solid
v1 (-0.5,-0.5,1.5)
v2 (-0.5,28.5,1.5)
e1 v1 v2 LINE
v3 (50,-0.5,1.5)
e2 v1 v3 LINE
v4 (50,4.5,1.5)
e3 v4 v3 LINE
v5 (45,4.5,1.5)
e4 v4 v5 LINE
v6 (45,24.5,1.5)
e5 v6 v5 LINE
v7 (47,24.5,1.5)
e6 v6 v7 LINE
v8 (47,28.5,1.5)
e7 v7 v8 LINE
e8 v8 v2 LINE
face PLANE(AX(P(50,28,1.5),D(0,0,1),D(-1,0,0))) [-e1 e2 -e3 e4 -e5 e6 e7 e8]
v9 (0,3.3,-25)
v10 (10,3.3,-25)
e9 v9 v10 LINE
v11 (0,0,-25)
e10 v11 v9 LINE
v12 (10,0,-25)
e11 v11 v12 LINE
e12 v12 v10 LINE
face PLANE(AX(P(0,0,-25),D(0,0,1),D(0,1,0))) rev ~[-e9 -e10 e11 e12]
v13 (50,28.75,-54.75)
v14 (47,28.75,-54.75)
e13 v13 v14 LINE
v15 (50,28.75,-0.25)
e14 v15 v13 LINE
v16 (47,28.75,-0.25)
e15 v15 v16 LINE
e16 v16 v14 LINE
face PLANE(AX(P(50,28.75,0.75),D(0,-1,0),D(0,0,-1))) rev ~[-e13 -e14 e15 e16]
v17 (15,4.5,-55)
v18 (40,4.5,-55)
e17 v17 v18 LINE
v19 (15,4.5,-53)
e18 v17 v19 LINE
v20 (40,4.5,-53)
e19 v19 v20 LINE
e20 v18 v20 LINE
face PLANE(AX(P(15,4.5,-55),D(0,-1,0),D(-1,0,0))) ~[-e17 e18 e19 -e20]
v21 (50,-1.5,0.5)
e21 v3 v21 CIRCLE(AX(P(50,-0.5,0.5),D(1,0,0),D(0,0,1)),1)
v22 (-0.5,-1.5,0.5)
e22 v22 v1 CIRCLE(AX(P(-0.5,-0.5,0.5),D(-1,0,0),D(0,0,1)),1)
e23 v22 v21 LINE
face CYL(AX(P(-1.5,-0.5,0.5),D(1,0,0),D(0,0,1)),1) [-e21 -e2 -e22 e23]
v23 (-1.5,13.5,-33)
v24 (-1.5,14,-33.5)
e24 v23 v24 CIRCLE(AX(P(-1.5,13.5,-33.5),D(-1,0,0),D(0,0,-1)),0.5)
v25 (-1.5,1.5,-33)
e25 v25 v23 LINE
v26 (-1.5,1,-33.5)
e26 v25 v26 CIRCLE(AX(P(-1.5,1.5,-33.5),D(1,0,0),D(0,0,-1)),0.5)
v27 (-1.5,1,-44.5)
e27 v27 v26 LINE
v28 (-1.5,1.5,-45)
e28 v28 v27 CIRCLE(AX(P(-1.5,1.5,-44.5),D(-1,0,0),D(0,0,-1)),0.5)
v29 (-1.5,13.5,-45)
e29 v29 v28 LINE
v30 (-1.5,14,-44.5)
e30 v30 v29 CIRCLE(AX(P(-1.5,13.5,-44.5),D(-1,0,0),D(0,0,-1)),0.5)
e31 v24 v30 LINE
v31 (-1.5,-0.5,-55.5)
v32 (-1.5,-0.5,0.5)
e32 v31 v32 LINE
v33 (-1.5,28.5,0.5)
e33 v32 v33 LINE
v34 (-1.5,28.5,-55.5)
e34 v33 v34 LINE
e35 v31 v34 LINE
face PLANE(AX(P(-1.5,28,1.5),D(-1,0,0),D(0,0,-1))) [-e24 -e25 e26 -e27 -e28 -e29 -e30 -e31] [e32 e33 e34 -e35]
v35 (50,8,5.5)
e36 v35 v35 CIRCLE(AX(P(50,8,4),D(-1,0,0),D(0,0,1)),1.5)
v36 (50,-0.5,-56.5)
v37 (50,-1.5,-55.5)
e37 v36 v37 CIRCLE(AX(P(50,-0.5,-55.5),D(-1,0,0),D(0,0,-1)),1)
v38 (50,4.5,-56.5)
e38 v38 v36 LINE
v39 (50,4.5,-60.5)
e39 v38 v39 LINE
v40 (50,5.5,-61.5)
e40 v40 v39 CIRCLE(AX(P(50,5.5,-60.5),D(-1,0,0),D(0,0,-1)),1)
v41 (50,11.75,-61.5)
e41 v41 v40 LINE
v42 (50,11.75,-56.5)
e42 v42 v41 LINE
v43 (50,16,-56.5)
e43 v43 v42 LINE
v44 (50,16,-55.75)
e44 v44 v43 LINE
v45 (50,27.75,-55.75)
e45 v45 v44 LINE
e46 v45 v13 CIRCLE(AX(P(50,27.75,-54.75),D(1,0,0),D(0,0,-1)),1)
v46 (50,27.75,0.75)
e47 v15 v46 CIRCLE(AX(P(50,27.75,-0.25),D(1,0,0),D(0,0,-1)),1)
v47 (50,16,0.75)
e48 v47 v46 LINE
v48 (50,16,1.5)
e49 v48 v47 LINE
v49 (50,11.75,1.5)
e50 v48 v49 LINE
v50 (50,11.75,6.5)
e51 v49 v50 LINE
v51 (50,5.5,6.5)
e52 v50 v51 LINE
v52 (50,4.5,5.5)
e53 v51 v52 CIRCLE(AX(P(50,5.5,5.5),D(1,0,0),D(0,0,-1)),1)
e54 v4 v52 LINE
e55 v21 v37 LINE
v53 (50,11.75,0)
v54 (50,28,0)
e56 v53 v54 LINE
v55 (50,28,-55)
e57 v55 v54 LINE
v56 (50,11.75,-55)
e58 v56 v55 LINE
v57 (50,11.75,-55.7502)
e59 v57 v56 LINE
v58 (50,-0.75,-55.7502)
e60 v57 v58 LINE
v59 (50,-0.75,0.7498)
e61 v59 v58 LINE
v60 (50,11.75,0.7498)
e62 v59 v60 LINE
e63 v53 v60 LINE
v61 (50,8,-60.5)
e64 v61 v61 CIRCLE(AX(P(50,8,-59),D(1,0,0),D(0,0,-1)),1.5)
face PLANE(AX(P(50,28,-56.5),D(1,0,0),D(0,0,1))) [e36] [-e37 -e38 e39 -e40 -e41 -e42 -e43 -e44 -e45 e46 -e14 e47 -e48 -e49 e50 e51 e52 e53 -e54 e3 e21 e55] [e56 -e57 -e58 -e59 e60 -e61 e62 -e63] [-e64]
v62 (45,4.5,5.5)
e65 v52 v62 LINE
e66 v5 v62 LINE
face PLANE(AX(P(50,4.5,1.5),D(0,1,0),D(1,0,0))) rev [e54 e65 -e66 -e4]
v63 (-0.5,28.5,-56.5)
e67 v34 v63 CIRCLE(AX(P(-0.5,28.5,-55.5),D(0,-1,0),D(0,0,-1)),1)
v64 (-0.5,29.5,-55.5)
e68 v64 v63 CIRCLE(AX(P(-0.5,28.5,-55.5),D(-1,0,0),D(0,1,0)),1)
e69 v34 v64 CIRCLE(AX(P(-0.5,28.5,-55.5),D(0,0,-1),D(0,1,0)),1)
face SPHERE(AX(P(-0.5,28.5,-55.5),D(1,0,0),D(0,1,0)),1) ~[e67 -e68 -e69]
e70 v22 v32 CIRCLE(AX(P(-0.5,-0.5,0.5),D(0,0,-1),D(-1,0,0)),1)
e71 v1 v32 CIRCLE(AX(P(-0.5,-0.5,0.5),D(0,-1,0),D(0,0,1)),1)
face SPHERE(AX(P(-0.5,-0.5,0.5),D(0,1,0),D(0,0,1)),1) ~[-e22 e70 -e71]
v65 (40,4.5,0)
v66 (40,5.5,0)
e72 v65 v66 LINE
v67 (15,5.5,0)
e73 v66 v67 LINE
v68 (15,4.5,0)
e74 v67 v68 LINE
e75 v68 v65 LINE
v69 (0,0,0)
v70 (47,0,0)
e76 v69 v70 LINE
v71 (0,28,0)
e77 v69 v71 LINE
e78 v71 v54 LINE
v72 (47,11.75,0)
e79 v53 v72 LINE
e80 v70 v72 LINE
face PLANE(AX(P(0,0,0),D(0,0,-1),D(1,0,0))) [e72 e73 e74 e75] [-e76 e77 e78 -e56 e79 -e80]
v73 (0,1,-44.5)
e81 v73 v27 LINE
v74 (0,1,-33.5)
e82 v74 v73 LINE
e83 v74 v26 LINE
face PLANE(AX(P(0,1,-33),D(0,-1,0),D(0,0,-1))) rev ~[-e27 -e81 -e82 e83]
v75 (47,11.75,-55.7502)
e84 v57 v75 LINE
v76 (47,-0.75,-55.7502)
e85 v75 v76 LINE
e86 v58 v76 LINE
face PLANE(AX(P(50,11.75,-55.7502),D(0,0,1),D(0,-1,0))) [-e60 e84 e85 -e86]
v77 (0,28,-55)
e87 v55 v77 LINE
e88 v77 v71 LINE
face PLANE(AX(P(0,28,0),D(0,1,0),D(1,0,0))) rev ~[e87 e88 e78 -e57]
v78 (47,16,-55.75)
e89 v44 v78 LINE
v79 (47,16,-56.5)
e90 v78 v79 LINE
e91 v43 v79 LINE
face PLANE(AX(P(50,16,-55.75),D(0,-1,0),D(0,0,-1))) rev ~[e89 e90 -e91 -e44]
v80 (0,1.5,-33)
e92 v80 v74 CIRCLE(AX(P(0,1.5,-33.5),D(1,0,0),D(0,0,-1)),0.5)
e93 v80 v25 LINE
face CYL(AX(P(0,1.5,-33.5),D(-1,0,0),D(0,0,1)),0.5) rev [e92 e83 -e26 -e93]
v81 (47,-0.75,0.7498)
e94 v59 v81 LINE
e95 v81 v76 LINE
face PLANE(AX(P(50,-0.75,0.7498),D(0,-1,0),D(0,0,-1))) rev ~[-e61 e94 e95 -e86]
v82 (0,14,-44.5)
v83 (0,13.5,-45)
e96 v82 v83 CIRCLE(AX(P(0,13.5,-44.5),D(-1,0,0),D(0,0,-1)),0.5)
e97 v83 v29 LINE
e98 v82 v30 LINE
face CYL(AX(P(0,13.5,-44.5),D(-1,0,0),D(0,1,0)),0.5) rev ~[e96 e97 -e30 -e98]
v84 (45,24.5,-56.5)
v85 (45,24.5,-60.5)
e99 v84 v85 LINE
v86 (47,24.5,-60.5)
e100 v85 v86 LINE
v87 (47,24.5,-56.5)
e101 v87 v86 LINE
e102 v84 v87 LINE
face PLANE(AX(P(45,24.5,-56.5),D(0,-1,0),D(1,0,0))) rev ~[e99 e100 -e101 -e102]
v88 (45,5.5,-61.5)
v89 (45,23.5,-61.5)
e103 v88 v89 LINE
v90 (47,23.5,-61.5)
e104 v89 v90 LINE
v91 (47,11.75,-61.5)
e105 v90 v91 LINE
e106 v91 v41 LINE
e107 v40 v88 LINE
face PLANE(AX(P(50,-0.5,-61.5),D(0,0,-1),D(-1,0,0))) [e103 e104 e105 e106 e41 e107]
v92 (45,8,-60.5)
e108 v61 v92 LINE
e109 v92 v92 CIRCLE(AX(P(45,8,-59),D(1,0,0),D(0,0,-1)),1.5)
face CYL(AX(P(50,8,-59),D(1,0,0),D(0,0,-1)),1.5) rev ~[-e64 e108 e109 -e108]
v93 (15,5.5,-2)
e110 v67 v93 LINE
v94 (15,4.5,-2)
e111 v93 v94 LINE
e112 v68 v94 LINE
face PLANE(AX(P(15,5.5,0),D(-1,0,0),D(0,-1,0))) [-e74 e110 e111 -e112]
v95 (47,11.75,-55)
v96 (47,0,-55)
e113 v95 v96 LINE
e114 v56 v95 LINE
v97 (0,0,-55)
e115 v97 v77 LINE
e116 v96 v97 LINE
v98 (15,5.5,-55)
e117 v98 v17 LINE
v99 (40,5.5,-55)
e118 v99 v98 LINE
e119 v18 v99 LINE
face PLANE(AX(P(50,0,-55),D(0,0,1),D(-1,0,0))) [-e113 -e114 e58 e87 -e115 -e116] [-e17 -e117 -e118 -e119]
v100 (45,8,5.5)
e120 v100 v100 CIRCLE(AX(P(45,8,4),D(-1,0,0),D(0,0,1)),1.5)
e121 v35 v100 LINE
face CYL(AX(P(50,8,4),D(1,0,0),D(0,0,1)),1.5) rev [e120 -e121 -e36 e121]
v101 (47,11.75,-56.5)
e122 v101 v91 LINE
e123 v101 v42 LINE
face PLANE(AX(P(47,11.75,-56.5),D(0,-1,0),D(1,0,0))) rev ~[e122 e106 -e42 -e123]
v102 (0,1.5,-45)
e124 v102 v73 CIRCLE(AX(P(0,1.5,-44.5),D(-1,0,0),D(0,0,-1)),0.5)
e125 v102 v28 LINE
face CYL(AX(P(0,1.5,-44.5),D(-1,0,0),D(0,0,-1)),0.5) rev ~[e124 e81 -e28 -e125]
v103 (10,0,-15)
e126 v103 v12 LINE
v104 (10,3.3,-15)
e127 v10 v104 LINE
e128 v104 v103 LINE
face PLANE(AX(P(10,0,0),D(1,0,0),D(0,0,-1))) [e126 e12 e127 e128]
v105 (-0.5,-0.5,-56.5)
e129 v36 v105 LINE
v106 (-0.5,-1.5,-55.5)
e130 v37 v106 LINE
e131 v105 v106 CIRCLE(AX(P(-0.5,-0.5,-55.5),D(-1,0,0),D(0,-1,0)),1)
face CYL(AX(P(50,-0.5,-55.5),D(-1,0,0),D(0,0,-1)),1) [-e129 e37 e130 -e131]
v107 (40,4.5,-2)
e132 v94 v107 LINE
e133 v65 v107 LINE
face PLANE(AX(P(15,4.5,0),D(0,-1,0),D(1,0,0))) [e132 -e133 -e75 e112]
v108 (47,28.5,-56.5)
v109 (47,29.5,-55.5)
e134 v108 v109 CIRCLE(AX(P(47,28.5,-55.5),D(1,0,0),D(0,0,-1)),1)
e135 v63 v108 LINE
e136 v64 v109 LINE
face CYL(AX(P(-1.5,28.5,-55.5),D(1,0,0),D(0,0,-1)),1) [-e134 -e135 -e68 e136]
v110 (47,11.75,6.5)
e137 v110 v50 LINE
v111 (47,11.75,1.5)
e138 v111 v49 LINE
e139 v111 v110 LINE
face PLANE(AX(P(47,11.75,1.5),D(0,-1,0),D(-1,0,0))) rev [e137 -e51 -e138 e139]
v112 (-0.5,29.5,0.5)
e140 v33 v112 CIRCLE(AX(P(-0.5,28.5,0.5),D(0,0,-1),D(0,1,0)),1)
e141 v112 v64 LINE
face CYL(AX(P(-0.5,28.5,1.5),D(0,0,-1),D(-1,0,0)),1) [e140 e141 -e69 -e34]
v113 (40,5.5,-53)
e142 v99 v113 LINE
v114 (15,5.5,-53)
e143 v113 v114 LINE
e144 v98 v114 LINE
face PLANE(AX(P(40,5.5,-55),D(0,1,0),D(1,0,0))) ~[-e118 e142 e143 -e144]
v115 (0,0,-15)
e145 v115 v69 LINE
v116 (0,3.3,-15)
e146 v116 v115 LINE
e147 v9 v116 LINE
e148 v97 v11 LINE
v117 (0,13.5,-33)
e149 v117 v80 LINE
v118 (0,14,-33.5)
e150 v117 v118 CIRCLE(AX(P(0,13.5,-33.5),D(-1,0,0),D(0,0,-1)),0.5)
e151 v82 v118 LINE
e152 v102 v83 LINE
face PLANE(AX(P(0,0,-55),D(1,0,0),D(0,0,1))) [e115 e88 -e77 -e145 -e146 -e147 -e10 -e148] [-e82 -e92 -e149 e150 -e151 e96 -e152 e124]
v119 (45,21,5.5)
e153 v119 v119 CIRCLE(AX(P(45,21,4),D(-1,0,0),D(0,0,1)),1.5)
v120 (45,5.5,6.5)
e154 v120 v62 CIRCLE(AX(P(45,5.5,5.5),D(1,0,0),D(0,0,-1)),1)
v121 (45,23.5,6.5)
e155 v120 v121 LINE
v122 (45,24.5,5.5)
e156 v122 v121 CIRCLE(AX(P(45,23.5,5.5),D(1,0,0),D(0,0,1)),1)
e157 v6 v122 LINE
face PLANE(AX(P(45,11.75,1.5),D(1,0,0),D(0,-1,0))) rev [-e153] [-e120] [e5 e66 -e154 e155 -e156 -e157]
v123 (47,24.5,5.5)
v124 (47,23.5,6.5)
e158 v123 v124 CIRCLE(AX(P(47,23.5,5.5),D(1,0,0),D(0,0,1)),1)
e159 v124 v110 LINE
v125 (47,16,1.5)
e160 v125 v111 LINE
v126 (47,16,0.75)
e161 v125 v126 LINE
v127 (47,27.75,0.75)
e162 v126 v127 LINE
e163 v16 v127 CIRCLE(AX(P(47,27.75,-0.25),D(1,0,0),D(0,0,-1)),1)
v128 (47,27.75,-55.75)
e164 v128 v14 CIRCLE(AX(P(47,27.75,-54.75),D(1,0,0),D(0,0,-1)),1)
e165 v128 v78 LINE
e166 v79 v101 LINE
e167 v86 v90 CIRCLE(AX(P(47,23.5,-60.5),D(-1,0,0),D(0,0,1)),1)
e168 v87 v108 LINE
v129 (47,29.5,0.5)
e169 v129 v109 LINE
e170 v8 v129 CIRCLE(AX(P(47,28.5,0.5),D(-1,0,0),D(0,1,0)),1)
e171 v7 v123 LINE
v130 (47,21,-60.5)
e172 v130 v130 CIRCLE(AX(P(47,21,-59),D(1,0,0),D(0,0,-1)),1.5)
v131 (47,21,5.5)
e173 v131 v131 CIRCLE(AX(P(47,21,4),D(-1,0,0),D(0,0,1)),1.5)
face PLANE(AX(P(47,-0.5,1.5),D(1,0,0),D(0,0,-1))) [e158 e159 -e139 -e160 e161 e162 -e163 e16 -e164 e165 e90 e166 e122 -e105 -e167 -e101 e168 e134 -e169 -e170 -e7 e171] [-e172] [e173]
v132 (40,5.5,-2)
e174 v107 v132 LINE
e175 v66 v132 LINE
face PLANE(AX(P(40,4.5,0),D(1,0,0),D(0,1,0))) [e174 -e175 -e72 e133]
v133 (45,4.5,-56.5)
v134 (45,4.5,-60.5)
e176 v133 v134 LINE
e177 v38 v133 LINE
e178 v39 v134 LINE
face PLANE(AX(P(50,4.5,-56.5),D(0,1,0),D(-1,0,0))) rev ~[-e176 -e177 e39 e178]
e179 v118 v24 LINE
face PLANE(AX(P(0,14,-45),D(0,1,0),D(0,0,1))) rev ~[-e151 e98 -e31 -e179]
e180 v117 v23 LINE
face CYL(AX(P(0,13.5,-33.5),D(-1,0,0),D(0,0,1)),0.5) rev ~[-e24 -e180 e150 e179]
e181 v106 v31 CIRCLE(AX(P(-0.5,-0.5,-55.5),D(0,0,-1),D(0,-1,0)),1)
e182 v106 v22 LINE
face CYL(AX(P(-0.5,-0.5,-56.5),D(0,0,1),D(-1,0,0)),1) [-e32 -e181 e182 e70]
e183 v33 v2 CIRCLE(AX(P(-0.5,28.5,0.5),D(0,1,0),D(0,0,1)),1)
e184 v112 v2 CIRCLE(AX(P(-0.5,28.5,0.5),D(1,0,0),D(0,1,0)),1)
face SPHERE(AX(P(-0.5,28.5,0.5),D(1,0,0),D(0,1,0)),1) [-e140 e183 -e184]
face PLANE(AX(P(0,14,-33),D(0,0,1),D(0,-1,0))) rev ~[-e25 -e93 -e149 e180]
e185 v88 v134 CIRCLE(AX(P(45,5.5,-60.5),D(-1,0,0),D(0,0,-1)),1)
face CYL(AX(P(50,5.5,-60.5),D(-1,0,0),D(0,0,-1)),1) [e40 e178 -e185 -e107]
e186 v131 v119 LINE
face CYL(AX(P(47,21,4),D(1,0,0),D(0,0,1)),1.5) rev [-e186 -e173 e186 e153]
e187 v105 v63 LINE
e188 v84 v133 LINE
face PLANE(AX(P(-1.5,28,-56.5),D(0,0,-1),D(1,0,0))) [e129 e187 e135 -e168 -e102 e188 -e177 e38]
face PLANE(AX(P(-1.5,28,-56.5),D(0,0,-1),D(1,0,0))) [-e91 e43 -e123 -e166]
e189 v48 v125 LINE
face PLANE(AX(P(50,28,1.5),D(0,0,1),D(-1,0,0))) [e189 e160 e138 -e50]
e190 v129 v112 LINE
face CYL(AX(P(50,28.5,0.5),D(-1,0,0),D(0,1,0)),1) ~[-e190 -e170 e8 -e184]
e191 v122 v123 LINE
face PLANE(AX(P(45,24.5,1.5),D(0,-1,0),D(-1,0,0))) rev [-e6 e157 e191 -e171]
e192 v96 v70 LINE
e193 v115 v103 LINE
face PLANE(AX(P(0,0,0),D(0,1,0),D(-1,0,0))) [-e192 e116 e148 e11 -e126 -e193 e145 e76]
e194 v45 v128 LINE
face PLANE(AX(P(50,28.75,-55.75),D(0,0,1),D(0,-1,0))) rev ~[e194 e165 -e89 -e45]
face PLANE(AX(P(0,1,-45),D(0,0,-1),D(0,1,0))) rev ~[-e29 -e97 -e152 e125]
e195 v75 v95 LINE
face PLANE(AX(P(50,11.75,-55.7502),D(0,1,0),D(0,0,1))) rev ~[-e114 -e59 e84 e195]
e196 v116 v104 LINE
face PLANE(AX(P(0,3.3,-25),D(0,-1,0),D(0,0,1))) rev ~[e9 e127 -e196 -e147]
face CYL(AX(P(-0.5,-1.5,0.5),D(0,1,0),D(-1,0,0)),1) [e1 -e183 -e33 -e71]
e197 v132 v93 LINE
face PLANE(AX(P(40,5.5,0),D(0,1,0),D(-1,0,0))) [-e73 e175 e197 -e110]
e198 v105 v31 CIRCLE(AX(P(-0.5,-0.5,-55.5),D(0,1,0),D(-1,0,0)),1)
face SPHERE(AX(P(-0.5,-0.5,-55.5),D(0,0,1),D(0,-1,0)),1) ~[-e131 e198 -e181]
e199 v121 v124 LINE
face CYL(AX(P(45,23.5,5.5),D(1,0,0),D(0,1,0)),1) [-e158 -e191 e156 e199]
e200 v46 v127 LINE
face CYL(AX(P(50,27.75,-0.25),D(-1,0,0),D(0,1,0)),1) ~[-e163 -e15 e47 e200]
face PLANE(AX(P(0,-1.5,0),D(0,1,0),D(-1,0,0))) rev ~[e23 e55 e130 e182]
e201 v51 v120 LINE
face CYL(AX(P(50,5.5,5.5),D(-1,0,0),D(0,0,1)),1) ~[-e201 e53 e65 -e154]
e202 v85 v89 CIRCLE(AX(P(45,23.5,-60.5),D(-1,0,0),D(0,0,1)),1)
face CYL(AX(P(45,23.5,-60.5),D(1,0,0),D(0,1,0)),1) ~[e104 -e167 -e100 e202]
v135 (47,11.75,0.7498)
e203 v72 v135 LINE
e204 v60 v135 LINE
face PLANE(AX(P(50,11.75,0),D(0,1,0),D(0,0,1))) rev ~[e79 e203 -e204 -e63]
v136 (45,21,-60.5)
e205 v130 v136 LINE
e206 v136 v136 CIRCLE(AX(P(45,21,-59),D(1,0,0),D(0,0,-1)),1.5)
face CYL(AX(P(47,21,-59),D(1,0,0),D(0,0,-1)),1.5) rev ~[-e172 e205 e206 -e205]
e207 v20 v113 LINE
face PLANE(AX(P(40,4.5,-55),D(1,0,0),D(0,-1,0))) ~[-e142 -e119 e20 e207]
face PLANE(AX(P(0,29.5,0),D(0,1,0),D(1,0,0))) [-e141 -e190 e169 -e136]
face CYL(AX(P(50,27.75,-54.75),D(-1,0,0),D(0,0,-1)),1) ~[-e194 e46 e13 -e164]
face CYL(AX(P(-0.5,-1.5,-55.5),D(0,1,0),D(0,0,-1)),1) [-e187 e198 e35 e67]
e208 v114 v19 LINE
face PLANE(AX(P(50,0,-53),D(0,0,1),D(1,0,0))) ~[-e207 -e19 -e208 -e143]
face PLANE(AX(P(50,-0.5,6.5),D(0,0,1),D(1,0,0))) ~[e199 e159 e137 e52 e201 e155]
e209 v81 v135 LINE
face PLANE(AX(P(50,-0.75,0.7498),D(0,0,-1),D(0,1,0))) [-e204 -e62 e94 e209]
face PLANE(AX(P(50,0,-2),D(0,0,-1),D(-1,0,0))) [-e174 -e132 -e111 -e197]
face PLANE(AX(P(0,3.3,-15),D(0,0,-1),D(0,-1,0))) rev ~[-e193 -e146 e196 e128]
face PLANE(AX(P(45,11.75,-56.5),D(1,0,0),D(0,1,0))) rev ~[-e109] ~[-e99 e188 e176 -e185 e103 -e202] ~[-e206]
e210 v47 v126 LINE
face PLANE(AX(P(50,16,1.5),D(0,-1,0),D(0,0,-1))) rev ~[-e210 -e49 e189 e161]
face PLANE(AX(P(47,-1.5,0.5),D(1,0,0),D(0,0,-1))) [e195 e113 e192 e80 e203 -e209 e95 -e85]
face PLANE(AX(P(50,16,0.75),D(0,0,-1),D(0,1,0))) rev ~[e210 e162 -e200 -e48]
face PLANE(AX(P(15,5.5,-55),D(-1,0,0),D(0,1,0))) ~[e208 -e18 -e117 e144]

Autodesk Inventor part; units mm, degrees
ref_plane "YZ Plane" through (0, 0, 0) normal (1, 0, 0) x (0, 1, 0)
ref_plane "XZ Plane" through (0, 0, 0) normal (0, 1, 0) x (-1, 0, 0)
ref_plane "XY Plane" through (0, 0, 0) normal (0, 0, 1) x (1, 0, 0)
sketch "Sketch1" plane through (0, 0, 0) normal (0, 1, 0) x (-1, 0, 0)
  line L0 (0, 0) -> (-48.5, 0)
  line L1 (-48.5, 0) -> (-48.5, -55)
  line L2 (-48.5, -55) -> (0, -55)
  line L3 (0, -55) -> (0, 0)
  line L4 (1.5, 1.5) -> (-50, 1.5)
  line L5 (-50, 1.5) -> (-50, -56.5)
  line L6 (-50, -56.5) -> (1.5, -56.5)
  line L7 (1.5, -56.5) -> (1.5, 1.5)
  dimension "d0" = 55
  dimension "d1" = 48.5
  dimension "d2" = 51.5
  dimension "d3" = 58
  dimension "d4" = 1.5
  dimension "d5" = 1.5
extrude "Extrusion1" add sketch "Sketch1" against normal blind 1.5 contours L3 L2 L1 L0 | L7 L6 L5 L4
sketch "Sketch2" plane through (0, 0, 0) normal (0, 1, 0) x (1, 0, 0)
  line L0 (-1.5, -1.5) -> (50, -1.5)
  line L1 (50, 56.5) -> (-1.5, 56.5)
  line L2 (-1.5, 56.5) -> (-1.5, -1.5)
  line L3 (0, 0) -> (50, 0)
  line L4 (50, 55) -> (0, 55)
  line L5 (0, 55) -> (0, 0)
  line L6 (50, 0) -> (50, -1.5)
  line L7 (50, 56.5) -> (50, -1.5) projected
  line L8 (50, 55) -> (50, 56.5)
  line L9 (-1.5, 56.5) -> (50, 56.5) projected
  dimension "d8" = 55
extrude "Extrusion2" add sketch "Sketch2" along normal blind 28 contours L2 L1 L7 L4 L5 L3 L6 L0
sketch "Sketch3" plane through (0, 28, 0) normal (0, 1, 0) x (1, 0, 0)
  line L0 (-1.5, 56.5) -> (50, 56.5)
  line L1 (50, 56.5) -> (50, -1.5)
  line L2 (50, -1.5) -> (-1.5, -1.5)
  line L3 (-1.5, -1.5) -> (-1.5, 56.5)
  point P0 (0, 0)
extrude "Extrusion3" add sketch "Sketch3" along normal blind 1.5
fillet "Fillet1" radius 1 8 edges at (24.25, 29.5, 1.5) (24.25, 29.5, -56.5) (-1.5, 29.5, -27.5) (-1.5, 14, 1.5) (24.25, -1.5, 1.5) (-1.5, -1.5, -27.5) (24.25, -1.5, -56.5) (-1.5, 14, -56.5)
sketch "Sketch4" plane through (0, 0, 0) normal (1, 0, 0) x (0, 0, -1)
  line L0 (15, 0) -> (25, 0)
  line L1 (25, 0) -> (25, 3.3)
  line L2 (25, 3.3) -> (15, 3.3)
  line L3 (15, 3.3) -> (15, 0)
  line L4 (0, 0) -> (0, 28) projected
  dimension "d14" = 3.3
  dimension "d15" = 10
  dimension "d16" = 15
extrude "Extrusion4" add sketch "Sketch4" along normal blind 10
ref_plane "Work Plane1" through (50, 0, -27.5) normal (0, 0, -1) x (-1, 0, 0)
sketch "Sketch5" plane through (50, 0, 0) normal (0, 0, -1) x (-1, 0, 0)
  line L0 (10, 5.5) -> (35, 5.5)
  line L1 (35, 5.5) -> (35, 4.5)
  line L2 (35, 4.5) -> (10, 4.5)
  line L3 (10, 4.5) -> (10, 5.5)
  line L4 (50, 0) -> (0, 0) projected
  line L5 (50, 0) -> (50, 28) projected
  line L6 (0, 0) -> (0, 28) projected
  dimension "d20" = 1
  dimension "d21" = 4.5
  dimension "d22" = 15
  dimension "d23" = 10
extrude "Extrusion5" add sketch "Sketch5" along normal blind 2
mirror "Mirror1" about plane through (50, 0, -27.5) normal (0, 0, -1) of "Extrusion5"
sketch "Sketch6" plane through (0, 0, -55) normal (1, 0, 0) x (0, 0, -1)
  line L0 (-22, 1) -> (-10, 1)
  line L1 (-10, 1) -> (-10, 14)
  line L2 (-10, 14) -> (-22, 14)
  line L3 (-22, 14) -> (-22, 1)
  line L4 (0, 0) -> (-30, 0) projected
  line L5 (0, 0) -> (0, 28) projected
  point P0 (-55, 0)
  dimension "d26" = 1
  dimension "d27" = 22
  dimension "d28" = 10
  dimension "d29" = 13
extrude "Extrusion6" cut sketch "Sketch6" against normal blind 2
fillet "Fillet2" radius 0.5 4 edges at (-0.75, 1, -33) (-0.75, 14, -33) (-0.75, 14, -45) (-0.75, 1, -45)
sketch "Sketch7" plane through (50, -0.5, 1.5) normal (1, 0, 0) x (0, 0, -1)
  line L0 (0, 0) -> (0, 29) projected
  line L1 (0, 16.5) -> (58, 16.5)
  line L2 (58, 16.5) -> (58, 30)
  line L3 (58, 30) -> (0, 30)
  line L4 (0, 30) -> (0, 16.5)
  line L5 (0.75, 29.25) -> (57.25, 29.25)
  line L6 (57.25, 29.25) -> (57.25, 16.5)
  line L7 (57.25, 16.5) -> (0.75, 16.5)
  line L8 (0.75, 16.5) -> (0.75, 29.25)
  line L9 (58, 0) -> (58, 29) projected
  line L10 (56.5, 0.5) -> (56.5, 28.5) projected
  line L11 (1.5, 28.5) -> (56.5, 28.5)
  line L12 (56.5, 28.5) -> (56.5, 16.5)
  line L13 (56.5, 16.5) -> (1.5, 16.5)
  line L14 (1.5, 16.5) -> (1.5, 28.5)
  line L15 (1, 30) -> (57, 30) projected
  point P0 (1.5, 0.5)
  dimension "d33" = 0.75
  dimension "d34" = 0.75
  dimension "d35" = 0
  dimension "d36" = 0.75
  dimension "d37" = 0
  dimension "d38" = 0.75
  dimension "d39" = 0.75
  dimension "d40" = 12.75
  dimension "d41" = 0
extrude "Extrusion7" cut sketch "Sketch7" against normal blind 3 contours L0 L4 L3 L2 L1 L6 L5 L8
fillet "Fillet3" radius 1 2 edges at (48.5, 28.75, -55.75) (48.5, 28.75, 0.75)
sketch "Sketch8" plane through (50, -1.5, 0.5) normal (1, 0, 0) x (0, 0, -1)
  line L0 (57.0002, 13.25) -> (-0.9998, 13.25)
  line L1 (-0.9998, 13.25) -> (-0.9998, 0.75)
  line L2 (-0.9998, 0.75) -> (57.0002, 0.75)
  line L3 (57.0002, 0.75) -> (57.0002, 13.25)
  line L4 (56, 0) -> (0, 0) projected
  line L5 (-0.2498, 13.25) -> (56.2502, 13.25)
  line L6 (56.2502, 13.25) -> (56.2502, 0.75)
  line L7 (56.2502, 0.75) -> (-0.2498, 0.75)
  line L8 (-0.2498, 0.75) -> (-0.2498, 13.25)
  line L9 (0.5, 13.25) -> (55.5, 13.25)
  line L10 (55.5, 13.25) -> (55.5, 1.5)
  line L11 (55.5, 1.5) -> (0.5, 1.5)
  line L12 (0.5, 1.5) -> (0.5, 13.25)
  dimension "d45" = 58
  dimension "d46" = 12.5
  dimension "d47" = 0.75
  dimension "d48" = 0
  dimension "d49" = 0.75
  dimension "d50" = 0.75
extrude "Extrusion8" cut sketch "Sketch8" against normal blind 3 contours L6 L2 L8 L0 L12 L11 L10
sketch "Sketch9" plane through (50, -0.5, -56.5) normal (0, 0, -1) x (-1, 0, 0)
  line L0 (3, 12.25) -> (5, 12.25)
  line L1 (5, 12.25) -> (5, 25)
  line L2 (5, 25) -> (3, 25)
  line L3 (3, 25) -> (3, 12.25)
  line L4 (5, 12.25) -> (0, 12.25)
  line L5 (0, 12.25) -> (0, 5)
  line L6 (0, 5) -> (5, 5)
  line L7 (5, 5) -> (5, 12.25)
  line L8 (0, 0) -> (0, 16.5) projected
  point P0 (50, 0.5)
  point P1 (3, 30)
  point P2 (0, -1)
  dimension "d60" = 2
  dimension "d61" = 12.75
  dimension "d62" = 5
  dimension "d63" = 5
  dimension "d64" = 7.25
  dimension "d65" = 0
extrude "Extrusion9" add sketch "Sketch9" along normal blind 5
fillet "Fillet4" radius 1 2 edges at (46, 24.5, -61.5) (47.5, 4.5, -61.5)
sketch "Sketch10" plane through (47, -0.5, 1.5) normal (1, 0, 0) x (0, 0, -1)
  circle A0 centre (60.5, 21.5) radius 1.5
  line L0 (63, 24) -> (63, 12.25) projected
  line L1 (58, 25) -> (62, 25) projected
  point P0 (1.5, 0.5)
  dimension "d69" = 3
  dimension "d70" = 2.5
  dimension "d71" = 3.5
extrude "Extrusion10" cut sketch "Sketch10" against normal blind 2
sketch "Sketch11" plane through (50, -1.5, 0.5) normal (1, 0, 0) x (0, 0, -1)
  circle A0 centre (59.5, 9.5) radius 1.5
  line L0 (57, 6) -> (61, 6) projected
  line L1 (62, 13.25) -> (62, 7) projected
  point P0 (0.5, 1.5)
  dimension "d74" = 3
  dimension "d75" = 3.5
  dimension "d76" = 2.5
extrude "Extrusion11" cut sketch "Sketch11" against normal blind 5
mirror "Mirror2" about plane through (50, 0, -27.5) normal (0, 0, -1) of "Extrusion9", "Extrusion11", "Fillet4", "Extrusion10"
equation "\"d34\" = d33"
equation "\"d36\" = d33"
equation "\"d38\" = d36"
equation "\"d39\" = d33"
properties part number "sensor2t"
